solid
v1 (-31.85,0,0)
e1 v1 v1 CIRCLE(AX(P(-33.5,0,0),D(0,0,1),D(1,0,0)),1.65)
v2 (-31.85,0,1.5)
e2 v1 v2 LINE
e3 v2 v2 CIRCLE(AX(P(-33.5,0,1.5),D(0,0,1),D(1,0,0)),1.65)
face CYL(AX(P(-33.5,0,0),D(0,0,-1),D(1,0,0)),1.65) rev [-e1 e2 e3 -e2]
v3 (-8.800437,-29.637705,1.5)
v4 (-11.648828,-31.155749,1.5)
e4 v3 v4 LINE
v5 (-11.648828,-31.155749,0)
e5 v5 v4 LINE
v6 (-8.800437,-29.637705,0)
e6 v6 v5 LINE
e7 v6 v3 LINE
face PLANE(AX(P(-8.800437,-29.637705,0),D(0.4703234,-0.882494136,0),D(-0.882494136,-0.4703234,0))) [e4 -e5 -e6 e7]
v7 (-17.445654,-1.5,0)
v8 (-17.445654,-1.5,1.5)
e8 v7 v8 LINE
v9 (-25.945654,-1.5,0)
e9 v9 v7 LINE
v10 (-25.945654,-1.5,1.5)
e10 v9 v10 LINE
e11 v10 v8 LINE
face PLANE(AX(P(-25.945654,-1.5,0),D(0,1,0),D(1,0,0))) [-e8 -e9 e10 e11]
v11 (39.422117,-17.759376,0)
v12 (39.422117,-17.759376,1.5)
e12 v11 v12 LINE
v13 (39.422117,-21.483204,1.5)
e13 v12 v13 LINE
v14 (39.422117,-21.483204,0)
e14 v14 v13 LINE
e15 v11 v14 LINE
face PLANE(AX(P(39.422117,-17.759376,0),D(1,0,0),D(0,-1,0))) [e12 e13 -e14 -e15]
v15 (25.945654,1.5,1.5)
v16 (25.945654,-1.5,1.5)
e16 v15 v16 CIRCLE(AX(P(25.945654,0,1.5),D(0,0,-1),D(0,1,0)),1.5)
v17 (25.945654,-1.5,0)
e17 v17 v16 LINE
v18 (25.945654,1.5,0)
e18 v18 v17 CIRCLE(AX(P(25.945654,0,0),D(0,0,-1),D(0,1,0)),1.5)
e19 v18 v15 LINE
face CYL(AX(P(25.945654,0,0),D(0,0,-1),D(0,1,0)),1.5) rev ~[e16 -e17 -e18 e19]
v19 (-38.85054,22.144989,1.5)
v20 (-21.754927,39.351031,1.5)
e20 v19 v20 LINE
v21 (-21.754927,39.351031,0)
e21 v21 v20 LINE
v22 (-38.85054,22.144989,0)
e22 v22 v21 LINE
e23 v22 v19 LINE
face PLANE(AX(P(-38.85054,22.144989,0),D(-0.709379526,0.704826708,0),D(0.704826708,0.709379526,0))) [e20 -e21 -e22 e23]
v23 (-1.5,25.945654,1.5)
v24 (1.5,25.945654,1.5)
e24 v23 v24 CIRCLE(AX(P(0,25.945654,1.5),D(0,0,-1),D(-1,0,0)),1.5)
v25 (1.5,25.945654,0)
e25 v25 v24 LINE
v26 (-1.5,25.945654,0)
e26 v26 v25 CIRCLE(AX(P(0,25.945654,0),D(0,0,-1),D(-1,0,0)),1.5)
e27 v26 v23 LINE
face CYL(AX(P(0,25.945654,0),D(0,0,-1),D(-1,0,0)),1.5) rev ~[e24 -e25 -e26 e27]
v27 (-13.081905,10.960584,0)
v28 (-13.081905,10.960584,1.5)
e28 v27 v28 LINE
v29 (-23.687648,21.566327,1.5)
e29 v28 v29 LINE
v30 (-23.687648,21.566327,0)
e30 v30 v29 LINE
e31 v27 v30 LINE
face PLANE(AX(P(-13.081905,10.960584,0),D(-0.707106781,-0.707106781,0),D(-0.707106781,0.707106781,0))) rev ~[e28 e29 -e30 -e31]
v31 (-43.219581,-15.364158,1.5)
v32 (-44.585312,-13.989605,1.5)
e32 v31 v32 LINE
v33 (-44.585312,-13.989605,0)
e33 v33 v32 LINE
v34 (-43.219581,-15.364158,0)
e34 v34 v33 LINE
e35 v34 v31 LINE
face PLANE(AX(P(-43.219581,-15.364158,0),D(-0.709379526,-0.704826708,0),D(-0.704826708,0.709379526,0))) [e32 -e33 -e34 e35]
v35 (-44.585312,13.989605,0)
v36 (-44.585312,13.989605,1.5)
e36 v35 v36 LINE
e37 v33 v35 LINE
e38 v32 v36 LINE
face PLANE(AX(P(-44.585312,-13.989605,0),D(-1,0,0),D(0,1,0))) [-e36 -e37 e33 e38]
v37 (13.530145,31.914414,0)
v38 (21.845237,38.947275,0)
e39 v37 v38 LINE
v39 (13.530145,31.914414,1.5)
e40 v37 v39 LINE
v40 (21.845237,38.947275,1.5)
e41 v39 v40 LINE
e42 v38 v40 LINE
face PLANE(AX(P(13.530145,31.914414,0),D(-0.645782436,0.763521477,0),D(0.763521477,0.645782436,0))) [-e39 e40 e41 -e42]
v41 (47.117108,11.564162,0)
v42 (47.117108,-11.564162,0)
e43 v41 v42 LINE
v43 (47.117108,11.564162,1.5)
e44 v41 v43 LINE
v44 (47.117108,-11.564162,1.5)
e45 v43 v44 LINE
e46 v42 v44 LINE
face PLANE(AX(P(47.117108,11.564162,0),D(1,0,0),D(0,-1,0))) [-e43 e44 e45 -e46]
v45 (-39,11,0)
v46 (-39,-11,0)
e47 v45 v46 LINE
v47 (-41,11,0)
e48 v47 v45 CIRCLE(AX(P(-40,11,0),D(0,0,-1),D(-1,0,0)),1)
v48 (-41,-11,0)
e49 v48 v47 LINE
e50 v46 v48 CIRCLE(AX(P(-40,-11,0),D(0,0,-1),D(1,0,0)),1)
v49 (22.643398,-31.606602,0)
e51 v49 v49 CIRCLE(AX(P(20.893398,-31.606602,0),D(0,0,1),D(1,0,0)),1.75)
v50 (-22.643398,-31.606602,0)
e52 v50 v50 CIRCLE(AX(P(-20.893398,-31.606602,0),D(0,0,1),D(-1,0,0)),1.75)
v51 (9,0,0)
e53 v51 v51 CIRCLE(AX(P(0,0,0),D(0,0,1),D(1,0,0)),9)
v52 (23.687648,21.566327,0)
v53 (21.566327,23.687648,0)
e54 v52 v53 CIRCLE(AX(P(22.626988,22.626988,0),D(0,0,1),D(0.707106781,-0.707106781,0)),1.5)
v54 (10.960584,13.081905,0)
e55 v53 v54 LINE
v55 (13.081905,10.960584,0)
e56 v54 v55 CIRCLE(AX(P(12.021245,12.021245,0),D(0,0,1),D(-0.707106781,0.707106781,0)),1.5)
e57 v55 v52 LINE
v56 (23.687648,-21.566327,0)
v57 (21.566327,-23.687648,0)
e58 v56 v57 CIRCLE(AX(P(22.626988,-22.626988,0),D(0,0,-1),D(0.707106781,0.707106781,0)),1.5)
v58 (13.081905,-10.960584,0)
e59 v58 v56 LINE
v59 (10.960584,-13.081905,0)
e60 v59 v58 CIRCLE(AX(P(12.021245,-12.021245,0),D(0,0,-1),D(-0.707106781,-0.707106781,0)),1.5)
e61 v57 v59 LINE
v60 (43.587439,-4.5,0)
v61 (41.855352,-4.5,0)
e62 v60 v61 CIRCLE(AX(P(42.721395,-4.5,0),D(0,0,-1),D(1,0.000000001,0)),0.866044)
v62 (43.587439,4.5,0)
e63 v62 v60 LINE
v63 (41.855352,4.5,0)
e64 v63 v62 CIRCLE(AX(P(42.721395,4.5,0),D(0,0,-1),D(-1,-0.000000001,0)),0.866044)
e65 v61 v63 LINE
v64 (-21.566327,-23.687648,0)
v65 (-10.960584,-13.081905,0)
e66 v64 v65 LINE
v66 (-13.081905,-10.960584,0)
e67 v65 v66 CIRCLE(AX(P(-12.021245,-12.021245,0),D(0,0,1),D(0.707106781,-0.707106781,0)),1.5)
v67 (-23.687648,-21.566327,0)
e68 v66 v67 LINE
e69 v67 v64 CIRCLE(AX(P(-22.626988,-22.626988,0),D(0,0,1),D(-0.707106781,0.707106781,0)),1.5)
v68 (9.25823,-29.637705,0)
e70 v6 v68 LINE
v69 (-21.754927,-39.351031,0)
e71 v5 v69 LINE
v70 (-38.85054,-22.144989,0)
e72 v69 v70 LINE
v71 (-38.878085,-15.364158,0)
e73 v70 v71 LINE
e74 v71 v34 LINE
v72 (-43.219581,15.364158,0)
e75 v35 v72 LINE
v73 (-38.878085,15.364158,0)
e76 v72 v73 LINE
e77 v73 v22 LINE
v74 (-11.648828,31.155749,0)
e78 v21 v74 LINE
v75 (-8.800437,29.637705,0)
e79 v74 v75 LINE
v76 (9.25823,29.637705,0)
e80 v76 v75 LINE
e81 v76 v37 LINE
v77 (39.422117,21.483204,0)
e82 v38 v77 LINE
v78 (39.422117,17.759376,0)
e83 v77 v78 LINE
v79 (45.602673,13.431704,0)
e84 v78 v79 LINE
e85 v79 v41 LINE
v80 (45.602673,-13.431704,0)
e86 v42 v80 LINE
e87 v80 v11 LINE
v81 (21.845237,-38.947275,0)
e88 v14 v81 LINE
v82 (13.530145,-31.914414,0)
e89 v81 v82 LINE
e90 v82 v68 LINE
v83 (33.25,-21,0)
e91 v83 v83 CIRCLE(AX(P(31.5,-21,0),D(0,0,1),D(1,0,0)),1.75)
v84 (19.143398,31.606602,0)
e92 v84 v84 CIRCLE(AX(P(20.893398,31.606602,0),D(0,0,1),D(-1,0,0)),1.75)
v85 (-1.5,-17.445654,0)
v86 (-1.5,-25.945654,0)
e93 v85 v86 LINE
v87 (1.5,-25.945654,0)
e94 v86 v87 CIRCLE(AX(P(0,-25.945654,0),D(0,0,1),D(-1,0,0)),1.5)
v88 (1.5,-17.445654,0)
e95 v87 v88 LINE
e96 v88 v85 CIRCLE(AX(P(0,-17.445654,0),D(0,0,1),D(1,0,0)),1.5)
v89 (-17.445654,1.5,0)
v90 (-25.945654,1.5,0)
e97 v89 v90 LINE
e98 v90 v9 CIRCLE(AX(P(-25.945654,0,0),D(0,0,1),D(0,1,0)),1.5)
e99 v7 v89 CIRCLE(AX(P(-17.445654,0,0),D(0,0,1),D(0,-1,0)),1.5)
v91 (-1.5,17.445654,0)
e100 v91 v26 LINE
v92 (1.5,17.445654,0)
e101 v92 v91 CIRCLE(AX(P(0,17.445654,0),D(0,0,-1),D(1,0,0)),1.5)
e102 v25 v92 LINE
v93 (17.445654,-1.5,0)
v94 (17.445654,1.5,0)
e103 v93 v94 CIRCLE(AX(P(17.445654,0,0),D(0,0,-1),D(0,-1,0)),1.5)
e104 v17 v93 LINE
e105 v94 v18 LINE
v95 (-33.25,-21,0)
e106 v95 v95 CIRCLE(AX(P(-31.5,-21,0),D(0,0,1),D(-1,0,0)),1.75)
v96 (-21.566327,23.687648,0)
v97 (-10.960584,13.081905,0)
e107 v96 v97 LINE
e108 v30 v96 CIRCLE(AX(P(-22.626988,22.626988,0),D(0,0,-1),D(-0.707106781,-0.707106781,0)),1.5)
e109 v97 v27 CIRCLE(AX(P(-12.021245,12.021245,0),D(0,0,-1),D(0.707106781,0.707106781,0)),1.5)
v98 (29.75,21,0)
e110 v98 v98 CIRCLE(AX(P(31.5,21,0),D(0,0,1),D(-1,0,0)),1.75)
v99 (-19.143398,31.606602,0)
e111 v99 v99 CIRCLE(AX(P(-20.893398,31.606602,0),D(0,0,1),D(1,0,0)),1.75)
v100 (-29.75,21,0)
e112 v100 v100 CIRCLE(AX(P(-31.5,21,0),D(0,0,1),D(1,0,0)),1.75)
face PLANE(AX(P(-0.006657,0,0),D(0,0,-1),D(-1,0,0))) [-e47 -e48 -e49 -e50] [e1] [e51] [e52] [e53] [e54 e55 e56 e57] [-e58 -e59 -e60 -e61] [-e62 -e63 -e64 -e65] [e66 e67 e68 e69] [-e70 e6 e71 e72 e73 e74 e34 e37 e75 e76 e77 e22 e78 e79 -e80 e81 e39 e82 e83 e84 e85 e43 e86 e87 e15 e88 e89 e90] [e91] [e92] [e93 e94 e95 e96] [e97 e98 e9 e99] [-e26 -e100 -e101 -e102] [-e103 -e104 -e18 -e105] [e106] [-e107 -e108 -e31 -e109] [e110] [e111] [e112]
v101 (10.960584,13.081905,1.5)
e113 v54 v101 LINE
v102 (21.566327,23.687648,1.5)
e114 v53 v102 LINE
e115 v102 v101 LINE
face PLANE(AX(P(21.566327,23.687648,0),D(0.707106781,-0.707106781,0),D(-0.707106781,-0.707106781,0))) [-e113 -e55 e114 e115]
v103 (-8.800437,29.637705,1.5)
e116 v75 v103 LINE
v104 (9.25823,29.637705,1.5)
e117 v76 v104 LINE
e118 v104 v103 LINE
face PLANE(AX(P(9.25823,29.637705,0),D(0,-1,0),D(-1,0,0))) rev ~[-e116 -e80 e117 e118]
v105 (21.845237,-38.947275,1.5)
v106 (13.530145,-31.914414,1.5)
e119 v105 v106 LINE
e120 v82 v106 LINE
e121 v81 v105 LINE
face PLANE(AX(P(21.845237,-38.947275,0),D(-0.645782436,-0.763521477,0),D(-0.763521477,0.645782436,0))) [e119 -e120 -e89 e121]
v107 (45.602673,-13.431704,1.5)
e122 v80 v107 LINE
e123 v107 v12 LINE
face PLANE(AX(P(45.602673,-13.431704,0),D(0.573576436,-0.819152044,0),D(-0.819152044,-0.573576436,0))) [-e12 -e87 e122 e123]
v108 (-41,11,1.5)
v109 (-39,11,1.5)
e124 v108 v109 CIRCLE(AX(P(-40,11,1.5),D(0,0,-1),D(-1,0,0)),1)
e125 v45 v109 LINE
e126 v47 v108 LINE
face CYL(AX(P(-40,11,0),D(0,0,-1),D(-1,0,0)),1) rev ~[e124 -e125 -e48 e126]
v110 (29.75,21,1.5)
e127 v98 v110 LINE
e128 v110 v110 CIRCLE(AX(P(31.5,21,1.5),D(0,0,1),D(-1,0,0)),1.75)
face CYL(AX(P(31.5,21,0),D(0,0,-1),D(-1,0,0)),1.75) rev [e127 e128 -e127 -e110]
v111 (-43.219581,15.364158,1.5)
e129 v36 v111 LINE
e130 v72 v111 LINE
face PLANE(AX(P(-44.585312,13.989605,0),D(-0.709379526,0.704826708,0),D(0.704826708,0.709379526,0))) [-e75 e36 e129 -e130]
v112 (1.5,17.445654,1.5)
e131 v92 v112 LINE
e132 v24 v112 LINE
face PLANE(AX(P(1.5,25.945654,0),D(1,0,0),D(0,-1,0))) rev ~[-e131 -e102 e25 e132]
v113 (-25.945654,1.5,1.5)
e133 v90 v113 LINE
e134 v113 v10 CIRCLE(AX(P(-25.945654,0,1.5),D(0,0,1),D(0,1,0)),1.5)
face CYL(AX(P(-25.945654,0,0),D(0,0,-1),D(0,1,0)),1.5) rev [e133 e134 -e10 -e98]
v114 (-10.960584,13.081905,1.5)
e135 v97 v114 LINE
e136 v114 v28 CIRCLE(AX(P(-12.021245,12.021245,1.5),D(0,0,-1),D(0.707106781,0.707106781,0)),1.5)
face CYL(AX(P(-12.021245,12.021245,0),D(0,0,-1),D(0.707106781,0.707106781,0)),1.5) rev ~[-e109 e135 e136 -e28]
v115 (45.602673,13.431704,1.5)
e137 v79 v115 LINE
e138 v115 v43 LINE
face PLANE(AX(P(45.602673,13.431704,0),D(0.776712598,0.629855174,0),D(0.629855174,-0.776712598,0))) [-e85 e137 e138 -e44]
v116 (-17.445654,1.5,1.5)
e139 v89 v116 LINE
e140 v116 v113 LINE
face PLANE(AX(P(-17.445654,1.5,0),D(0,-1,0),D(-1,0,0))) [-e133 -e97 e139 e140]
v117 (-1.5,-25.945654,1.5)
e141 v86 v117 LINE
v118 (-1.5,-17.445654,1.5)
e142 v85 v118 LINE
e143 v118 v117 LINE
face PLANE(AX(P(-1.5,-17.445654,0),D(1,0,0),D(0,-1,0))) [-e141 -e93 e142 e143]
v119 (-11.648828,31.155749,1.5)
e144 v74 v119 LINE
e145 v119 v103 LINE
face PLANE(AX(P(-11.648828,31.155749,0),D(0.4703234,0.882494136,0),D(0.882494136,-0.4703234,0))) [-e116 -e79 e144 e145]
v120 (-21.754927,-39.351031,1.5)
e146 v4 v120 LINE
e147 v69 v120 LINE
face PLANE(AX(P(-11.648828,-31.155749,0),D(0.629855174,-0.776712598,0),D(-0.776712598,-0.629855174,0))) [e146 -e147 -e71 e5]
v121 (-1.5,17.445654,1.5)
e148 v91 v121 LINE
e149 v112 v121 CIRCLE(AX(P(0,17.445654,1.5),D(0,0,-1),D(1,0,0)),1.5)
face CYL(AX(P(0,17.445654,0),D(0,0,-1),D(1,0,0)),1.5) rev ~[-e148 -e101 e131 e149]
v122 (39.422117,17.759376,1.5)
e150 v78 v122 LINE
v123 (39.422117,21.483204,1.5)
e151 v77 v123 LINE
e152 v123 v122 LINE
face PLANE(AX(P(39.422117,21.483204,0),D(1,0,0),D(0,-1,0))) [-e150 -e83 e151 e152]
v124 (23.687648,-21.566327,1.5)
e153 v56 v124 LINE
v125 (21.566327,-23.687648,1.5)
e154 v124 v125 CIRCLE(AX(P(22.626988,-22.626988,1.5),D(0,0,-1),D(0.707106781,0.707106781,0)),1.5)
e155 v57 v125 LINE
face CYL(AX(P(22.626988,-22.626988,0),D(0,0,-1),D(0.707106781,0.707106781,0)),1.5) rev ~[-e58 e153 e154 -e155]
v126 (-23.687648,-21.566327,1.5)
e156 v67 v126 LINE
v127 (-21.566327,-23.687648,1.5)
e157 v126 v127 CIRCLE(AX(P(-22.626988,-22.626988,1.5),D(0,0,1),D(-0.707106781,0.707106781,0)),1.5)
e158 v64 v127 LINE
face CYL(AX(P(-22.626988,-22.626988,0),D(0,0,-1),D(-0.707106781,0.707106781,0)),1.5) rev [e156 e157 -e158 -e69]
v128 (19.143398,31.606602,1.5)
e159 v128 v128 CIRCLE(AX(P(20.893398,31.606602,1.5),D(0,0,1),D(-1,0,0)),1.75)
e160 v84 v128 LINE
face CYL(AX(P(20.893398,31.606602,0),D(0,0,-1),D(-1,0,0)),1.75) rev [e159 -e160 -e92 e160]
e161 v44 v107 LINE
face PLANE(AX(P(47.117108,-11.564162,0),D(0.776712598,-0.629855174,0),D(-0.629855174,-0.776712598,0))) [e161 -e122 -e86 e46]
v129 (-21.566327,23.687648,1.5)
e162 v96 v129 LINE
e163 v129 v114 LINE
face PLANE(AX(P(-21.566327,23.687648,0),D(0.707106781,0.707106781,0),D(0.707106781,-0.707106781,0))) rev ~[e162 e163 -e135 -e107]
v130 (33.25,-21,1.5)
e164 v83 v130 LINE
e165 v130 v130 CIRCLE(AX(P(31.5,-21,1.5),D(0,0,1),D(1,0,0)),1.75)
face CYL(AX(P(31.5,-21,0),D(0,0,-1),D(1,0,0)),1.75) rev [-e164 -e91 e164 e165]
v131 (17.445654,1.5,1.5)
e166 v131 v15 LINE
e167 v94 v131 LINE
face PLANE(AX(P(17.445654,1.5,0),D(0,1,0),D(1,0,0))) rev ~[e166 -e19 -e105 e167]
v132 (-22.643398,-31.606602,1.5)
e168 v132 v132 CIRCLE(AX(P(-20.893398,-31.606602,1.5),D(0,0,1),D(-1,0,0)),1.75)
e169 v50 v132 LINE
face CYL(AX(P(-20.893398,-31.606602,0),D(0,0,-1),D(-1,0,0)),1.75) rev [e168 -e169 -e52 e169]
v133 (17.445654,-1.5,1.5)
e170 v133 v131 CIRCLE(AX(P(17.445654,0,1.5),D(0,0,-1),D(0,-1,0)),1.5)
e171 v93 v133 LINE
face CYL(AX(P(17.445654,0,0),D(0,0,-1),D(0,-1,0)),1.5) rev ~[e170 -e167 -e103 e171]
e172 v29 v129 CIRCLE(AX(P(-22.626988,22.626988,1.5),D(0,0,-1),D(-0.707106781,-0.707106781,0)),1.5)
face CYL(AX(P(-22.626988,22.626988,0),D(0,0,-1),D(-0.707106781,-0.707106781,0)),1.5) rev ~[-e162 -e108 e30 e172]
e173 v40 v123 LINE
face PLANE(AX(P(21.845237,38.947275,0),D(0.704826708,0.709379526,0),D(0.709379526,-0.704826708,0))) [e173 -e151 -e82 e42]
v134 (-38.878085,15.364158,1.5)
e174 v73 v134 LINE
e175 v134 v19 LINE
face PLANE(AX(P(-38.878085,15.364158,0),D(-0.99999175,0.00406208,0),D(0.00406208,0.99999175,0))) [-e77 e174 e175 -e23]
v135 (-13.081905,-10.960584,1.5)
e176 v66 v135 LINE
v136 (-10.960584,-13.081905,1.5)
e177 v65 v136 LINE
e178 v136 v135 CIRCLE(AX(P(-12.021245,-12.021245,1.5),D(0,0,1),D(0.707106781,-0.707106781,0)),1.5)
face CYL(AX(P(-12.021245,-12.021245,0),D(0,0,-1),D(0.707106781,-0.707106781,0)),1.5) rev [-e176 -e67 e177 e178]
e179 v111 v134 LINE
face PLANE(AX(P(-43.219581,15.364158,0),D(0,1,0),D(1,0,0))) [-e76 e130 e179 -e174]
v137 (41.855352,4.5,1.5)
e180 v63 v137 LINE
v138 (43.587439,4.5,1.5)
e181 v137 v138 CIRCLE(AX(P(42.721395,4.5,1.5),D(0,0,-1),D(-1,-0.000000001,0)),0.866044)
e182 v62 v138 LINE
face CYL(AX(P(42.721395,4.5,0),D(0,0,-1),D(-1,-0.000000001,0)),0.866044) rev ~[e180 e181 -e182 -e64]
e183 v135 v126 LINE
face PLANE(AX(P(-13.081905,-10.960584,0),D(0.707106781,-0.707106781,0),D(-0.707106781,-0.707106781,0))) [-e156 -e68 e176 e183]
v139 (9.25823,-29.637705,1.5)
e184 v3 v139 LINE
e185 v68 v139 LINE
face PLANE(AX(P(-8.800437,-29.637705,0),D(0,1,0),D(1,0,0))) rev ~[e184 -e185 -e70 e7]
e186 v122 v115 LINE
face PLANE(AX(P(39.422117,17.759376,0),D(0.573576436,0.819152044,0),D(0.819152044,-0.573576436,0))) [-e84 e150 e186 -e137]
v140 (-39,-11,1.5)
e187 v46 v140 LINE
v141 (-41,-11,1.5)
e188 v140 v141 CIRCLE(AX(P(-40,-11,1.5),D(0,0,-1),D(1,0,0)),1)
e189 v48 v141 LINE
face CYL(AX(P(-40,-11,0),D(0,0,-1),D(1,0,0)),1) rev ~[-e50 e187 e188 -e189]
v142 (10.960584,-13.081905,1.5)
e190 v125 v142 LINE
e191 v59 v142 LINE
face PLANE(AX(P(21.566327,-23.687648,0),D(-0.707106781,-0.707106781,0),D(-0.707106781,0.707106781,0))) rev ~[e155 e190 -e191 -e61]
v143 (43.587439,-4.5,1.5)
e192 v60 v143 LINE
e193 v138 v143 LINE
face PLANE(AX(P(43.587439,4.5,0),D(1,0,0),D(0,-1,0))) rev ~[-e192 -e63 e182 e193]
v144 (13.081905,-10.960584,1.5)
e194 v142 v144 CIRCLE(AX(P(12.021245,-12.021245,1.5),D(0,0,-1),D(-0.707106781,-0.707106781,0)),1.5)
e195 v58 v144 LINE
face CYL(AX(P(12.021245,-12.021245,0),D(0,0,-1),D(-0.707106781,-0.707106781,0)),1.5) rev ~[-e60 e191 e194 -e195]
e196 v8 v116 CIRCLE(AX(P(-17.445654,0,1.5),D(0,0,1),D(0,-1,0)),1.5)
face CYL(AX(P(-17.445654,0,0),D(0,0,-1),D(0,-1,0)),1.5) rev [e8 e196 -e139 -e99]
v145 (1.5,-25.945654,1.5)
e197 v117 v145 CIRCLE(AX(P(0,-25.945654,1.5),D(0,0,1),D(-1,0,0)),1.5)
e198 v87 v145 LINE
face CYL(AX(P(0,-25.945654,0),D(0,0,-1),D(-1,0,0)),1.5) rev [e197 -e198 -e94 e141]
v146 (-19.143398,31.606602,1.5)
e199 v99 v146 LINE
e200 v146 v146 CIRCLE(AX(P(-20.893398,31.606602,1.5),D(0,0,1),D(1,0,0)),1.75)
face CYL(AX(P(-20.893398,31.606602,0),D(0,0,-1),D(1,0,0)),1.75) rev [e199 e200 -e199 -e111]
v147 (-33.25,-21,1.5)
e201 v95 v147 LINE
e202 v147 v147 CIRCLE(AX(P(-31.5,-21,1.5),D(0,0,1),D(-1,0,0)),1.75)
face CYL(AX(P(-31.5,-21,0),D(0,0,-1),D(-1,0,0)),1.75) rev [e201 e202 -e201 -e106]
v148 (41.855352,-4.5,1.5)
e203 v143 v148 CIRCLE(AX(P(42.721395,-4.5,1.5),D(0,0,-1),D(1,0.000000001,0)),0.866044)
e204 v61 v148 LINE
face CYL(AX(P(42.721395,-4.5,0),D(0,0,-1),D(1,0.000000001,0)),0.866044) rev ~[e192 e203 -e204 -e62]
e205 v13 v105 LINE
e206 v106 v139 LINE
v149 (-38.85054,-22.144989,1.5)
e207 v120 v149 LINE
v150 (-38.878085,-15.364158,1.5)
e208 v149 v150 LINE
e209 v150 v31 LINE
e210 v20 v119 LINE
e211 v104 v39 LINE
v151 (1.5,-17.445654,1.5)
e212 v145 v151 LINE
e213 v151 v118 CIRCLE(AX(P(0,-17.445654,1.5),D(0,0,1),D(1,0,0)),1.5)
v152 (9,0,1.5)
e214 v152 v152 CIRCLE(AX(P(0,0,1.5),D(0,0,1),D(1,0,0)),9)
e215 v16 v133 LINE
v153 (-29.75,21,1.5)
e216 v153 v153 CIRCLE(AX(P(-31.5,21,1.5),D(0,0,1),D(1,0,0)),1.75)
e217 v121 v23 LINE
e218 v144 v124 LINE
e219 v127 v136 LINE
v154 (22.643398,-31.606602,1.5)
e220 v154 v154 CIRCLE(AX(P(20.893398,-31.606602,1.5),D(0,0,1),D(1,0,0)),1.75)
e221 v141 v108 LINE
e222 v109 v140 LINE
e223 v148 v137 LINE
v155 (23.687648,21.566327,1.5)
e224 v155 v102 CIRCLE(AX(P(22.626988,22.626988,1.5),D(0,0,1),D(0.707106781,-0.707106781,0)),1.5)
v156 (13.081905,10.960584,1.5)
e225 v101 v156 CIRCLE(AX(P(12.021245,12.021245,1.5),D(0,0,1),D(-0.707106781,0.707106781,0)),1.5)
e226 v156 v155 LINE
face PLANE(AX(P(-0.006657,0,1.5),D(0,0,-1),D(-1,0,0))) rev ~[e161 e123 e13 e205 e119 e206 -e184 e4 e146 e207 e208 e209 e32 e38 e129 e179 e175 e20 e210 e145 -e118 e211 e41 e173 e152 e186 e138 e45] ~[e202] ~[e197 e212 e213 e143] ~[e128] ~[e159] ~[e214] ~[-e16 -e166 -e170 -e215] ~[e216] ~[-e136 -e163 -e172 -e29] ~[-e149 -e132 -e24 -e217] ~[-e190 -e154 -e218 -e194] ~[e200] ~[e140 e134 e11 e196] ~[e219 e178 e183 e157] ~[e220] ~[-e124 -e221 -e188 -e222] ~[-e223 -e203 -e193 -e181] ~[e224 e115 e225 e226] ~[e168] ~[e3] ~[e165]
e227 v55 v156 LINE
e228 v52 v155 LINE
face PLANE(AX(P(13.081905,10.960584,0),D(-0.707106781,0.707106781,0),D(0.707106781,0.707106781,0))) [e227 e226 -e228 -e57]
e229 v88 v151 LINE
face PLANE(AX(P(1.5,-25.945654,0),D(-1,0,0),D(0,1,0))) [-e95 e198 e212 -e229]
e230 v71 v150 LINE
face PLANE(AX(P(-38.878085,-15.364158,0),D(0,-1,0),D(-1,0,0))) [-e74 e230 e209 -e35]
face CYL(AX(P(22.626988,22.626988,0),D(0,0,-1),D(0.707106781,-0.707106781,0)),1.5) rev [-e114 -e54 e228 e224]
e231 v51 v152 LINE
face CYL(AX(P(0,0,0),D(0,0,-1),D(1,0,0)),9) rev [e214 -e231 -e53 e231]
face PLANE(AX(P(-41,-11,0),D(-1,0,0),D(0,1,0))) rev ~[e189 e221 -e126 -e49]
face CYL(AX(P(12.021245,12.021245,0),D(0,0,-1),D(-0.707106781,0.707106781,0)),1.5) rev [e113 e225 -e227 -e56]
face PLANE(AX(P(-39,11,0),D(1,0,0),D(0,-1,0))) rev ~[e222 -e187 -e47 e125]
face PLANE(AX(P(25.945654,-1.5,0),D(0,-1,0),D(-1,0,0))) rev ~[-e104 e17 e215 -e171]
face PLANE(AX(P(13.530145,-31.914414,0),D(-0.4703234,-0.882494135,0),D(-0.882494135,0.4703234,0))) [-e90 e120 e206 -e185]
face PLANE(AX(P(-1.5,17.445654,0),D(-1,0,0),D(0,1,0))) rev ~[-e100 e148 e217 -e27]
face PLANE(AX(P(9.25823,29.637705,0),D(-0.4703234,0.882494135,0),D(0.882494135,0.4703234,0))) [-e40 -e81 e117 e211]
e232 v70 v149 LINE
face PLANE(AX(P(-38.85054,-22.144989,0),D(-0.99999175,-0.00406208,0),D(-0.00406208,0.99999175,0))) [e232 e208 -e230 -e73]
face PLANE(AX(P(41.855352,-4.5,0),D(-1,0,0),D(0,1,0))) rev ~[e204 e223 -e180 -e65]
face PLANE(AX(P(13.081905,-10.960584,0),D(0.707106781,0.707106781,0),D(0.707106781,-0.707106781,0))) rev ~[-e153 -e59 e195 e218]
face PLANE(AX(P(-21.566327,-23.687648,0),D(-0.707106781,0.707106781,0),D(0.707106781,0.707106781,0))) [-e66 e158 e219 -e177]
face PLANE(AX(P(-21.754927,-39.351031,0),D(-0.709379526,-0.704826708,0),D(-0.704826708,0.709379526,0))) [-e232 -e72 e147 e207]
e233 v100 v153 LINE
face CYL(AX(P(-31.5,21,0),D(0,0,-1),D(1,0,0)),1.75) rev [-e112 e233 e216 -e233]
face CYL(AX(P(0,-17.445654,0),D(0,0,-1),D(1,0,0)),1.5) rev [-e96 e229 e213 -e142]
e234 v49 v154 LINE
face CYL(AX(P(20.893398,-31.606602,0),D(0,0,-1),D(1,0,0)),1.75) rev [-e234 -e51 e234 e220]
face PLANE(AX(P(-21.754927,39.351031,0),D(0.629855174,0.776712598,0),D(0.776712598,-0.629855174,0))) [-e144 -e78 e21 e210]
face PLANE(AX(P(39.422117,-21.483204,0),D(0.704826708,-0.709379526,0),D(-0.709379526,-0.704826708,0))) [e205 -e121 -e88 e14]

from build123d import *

# Parameters (mm, degrees)
UPPER_BOARD_R   = 9
UPPER_BOARD_R_2 = 1.75
UPPER_BOARD_R_3 = 1.65
EXTRUDE_1_DEPTH = 1.5


with BuildPart() as part:
    # Upper_board → 凸台-拉伸1 (new body)
    with BuildSketch(Plane.XY):
        Polygon((0, 29.63770528), (9.258229776, 29.63770528), (13.530145247, 31.914413679), (21.845237215, 38.947274579), (39.422116781, 21.483203913), (39.422116781, 17.759375685), (45.602672711, 13.431703833), (47.117107925, 11.564161962), (47.117107925, -11.564161962), (45.602672711, -13.431703833), (39.422116781, -17.759375685), (39.422116781, -21.483203913), (21.845237215, -38.947274579), (13.530145247, -31.914413679), (9.258229776, -29.63770528), (0, -29.63770528), (-8.800437365, -29.63770528), (-11.64882797, -31.155749084), (-21.754927214, -39.351031245), (-38.850540354, -22.144989251), (-38.878084859, -15.364158174), (-43.219581062, -15.364158174), (-44.585312397, -13.989604918), (-44.585312397, 13.989604918), (-43.219581062, 15.364158174), (-38.878084859, 15.364158174), (-38.850540354, 22.144989251), (-21.754927214, 39.351031245), (-11.64882797, 31.155749084), (-8.800437365, 29.63770528), align=None)
        Circle(UPPER_BOARD_R, mode=Mode.SUBTRACT)
        with Locations((-20.893398282, 31.606601718)):
            Circle(UPPER_BOARD_R_2, mode=Mode.SUBTRACT)
        with Locations((-31.5, 21)):
            Circle(UPPER_BOARD_R_2, mode=Mode.SUBTRACT)
        with Locations((-33.5, 0)):
            Circle(UPPER_BOARD_R_3, mode=Mode.SUBTRACT)
        with Locations(Location((20.893398282, 31.606601718, 0), (0, 0, 180))):
            Circle(UPPER_BOARD_R_2, mode=Mode.SUBTRACT)
        with Locations(Location((31.5, 21, 0), (0, 0, 180))):
            Circle(UPPER_BOARD_R_2, mode=Mode.SUBTRACT)
        with Locations(Location((-20.893398282, -31.606601718, 0), (0, 0, 180))):
            Circle(UPPER_BOARD_R_2, mode=Mode.SUBTRACT)
        with Locations(Location((-31.5, -21, 0), (0, 0, 180))):
            Circle(UPPER_BOARD_R_2, mode=Mode.SUBTRACT)
        with Locations((20.893398282, -31.606601718)):
            Circle(UPPER_BOARD_R_2, mode=Mode.SUBTRACT)
        with Locations((31.5, -21)):
            Circle(UPPER_BOARD_R_2, mode=Mode.SUBTRACT)
        with BuildLine():
            Line((-21.566327477, 23.687647821), (-10.960584458, 13.081904801))
            ThreePointArc((-10.960584458, 13.081904801), (-10.960584458, 10.960584458), (-13.081904801, 10.960584458))
            Line((-13.081904801, 10.960584458), (-23.687647821, 21.566327477))
            ThreePointArc((-23.687647821, 21.566327477), (-23.687647821, 23.687647821), (-21.566327477, 23.687647821))
        make_face(mode=Mode.SUBTRACT)
        with BuildLine():
            Line((-1.5, 17.445654013), (-1.5, 25.945654013))
            ThreePointArc((-1.5, 25.945654013), (0, 27.445654013), (1.5, 25.945654013))
            Line((1.5, 25.945654013), (1.5, 17.445654013))
            ThreePointArc((1.5, 17.445654013), (0, 15.945654013), (-1.5, 17.445654013))
        make_face(mode=Mode.SUBTRACT)
        with BuildLine():
            Line((-1.5, -17.445654013), (-1.5, -25.945654013))
            ThreePointArc((-1.5, -25.945654013), (0, -27.445654013), (1.5, -25.945654013))
            Line((1.5, -25.945654013), (1.5, -17.445654013))
            ThreePointArc((1.5, -17.445654013), (0, -15.945654013), (-1.5, -17.445654013))
        make_face(mode=Mode.SUBTRACT)
        with BuildLine():
            Line((-17.445654013, 1.5), (-25.945654013, 1.5))
            ThreePointArc((-25.945654013, 1.5), (-27.445654013, 0), (-25.945654013, -1.5))
            Line((-25.945654013, -1.5), (-17.445654013, -1.5))
            ThreePointArc((-17.445654013, -1.5), (-15.945654013, 0), (-17.445654013, 1.5))
        make_face(mode=Mode.SUBTRACT)
        with BuildLine():
            Line((17.445654013, 1.5), (25.945654013, 1.5))
            ThreePointArc((25.945654013, 1.5), (27.445654013, 0), (25.945654013, -1.5))
            Line((25.945654013, -1.5), (17.445654013, -1.5))
            ThreePointArc((17.445654013, -1.5), (15.945654013, 0), (17.445654013, 1.5))
        make_face(mode=Mode.SUBTRACT)
        with BuildLine():
            Line((-21.566327477, -23.687647821), (-10.960584458, -13.081904801))
            ThreePointArc((-10.960584458, -13.081904801), (-10.960584458, -10.960584458), (-13.081904801, -10.960584458))
            Line((-13.081904801, -10.960584458), (-23.687647821, -21.566327477))
            ThreePointArc((-23.687647821, -21.566327477), (-23.687647821, -23.687647821), (-21.566327477, -23.687647821))
        make_face(mode=Mode.SUBTRACT)
        with BuildLine():
            Line((21.566327477, 23.687647821), (10.960584458, 13.081904801))
            ThreePointArc((10.960584458, 13.081904801), (10.960584458, 10.960584458), (13.081904801, 10.960584458))
            Line((13.081904801, 10.960584458), (23.687647821, 21.566327477))
            ThreePointArc((23.687647821, 21.566327477), (23.687647821, 23.687647821), (21.566327477, 23.687647821))
        make_face(mode=Mode.SUBTRACT)
        with BuildLine():
            Line((21.566327477, -23.687647821), (10.960584458, -13.081904801))
            ThreePointArc((10.960584458, -13.081904801), (10.960584458, -10.960584458), (13.081904801, -10.960584458))
            Line((13.081904801, -10.960584458), (23.687647821, -21.566327477))
            ThreePointArc((23.687647821, -21.566327477), (23.687647821, -23.687647821), (21.566327477, -23.687647821))
        make_face(mode=Mode.SUBTRACT)
        with BuildLine():
            Line((-41, -11), (-41, 11))
            ThreePointArc((-41, 11), (-40, 12), (-39, 11))
            Line((-39, 11), (-39, -11))
            ThreePointArc((-39, -11), (-40, -12), (-41, -11))
        make_face(mode=Mode.SUBTRACT)
        with BuildLine():
            Line((41.855351652, -4.5), (41.855351652, 4.5))
            ThreePointArc((41.855351652, 4.5), (42.721395453, 5.366043802), (43.587439255, 4.5))
            Line((43.587439255, 4.5), (43.587439255, -4.5))
            ThreePointArc((43.587439255, -4.5), (42.721395453, -5.366043802), (41.855351652, -4.5))
        make_face(mode=Mode.SUBTRACT)
    extrude(amount=EXTRUDE_1_DEPTH)


solid = part.part
